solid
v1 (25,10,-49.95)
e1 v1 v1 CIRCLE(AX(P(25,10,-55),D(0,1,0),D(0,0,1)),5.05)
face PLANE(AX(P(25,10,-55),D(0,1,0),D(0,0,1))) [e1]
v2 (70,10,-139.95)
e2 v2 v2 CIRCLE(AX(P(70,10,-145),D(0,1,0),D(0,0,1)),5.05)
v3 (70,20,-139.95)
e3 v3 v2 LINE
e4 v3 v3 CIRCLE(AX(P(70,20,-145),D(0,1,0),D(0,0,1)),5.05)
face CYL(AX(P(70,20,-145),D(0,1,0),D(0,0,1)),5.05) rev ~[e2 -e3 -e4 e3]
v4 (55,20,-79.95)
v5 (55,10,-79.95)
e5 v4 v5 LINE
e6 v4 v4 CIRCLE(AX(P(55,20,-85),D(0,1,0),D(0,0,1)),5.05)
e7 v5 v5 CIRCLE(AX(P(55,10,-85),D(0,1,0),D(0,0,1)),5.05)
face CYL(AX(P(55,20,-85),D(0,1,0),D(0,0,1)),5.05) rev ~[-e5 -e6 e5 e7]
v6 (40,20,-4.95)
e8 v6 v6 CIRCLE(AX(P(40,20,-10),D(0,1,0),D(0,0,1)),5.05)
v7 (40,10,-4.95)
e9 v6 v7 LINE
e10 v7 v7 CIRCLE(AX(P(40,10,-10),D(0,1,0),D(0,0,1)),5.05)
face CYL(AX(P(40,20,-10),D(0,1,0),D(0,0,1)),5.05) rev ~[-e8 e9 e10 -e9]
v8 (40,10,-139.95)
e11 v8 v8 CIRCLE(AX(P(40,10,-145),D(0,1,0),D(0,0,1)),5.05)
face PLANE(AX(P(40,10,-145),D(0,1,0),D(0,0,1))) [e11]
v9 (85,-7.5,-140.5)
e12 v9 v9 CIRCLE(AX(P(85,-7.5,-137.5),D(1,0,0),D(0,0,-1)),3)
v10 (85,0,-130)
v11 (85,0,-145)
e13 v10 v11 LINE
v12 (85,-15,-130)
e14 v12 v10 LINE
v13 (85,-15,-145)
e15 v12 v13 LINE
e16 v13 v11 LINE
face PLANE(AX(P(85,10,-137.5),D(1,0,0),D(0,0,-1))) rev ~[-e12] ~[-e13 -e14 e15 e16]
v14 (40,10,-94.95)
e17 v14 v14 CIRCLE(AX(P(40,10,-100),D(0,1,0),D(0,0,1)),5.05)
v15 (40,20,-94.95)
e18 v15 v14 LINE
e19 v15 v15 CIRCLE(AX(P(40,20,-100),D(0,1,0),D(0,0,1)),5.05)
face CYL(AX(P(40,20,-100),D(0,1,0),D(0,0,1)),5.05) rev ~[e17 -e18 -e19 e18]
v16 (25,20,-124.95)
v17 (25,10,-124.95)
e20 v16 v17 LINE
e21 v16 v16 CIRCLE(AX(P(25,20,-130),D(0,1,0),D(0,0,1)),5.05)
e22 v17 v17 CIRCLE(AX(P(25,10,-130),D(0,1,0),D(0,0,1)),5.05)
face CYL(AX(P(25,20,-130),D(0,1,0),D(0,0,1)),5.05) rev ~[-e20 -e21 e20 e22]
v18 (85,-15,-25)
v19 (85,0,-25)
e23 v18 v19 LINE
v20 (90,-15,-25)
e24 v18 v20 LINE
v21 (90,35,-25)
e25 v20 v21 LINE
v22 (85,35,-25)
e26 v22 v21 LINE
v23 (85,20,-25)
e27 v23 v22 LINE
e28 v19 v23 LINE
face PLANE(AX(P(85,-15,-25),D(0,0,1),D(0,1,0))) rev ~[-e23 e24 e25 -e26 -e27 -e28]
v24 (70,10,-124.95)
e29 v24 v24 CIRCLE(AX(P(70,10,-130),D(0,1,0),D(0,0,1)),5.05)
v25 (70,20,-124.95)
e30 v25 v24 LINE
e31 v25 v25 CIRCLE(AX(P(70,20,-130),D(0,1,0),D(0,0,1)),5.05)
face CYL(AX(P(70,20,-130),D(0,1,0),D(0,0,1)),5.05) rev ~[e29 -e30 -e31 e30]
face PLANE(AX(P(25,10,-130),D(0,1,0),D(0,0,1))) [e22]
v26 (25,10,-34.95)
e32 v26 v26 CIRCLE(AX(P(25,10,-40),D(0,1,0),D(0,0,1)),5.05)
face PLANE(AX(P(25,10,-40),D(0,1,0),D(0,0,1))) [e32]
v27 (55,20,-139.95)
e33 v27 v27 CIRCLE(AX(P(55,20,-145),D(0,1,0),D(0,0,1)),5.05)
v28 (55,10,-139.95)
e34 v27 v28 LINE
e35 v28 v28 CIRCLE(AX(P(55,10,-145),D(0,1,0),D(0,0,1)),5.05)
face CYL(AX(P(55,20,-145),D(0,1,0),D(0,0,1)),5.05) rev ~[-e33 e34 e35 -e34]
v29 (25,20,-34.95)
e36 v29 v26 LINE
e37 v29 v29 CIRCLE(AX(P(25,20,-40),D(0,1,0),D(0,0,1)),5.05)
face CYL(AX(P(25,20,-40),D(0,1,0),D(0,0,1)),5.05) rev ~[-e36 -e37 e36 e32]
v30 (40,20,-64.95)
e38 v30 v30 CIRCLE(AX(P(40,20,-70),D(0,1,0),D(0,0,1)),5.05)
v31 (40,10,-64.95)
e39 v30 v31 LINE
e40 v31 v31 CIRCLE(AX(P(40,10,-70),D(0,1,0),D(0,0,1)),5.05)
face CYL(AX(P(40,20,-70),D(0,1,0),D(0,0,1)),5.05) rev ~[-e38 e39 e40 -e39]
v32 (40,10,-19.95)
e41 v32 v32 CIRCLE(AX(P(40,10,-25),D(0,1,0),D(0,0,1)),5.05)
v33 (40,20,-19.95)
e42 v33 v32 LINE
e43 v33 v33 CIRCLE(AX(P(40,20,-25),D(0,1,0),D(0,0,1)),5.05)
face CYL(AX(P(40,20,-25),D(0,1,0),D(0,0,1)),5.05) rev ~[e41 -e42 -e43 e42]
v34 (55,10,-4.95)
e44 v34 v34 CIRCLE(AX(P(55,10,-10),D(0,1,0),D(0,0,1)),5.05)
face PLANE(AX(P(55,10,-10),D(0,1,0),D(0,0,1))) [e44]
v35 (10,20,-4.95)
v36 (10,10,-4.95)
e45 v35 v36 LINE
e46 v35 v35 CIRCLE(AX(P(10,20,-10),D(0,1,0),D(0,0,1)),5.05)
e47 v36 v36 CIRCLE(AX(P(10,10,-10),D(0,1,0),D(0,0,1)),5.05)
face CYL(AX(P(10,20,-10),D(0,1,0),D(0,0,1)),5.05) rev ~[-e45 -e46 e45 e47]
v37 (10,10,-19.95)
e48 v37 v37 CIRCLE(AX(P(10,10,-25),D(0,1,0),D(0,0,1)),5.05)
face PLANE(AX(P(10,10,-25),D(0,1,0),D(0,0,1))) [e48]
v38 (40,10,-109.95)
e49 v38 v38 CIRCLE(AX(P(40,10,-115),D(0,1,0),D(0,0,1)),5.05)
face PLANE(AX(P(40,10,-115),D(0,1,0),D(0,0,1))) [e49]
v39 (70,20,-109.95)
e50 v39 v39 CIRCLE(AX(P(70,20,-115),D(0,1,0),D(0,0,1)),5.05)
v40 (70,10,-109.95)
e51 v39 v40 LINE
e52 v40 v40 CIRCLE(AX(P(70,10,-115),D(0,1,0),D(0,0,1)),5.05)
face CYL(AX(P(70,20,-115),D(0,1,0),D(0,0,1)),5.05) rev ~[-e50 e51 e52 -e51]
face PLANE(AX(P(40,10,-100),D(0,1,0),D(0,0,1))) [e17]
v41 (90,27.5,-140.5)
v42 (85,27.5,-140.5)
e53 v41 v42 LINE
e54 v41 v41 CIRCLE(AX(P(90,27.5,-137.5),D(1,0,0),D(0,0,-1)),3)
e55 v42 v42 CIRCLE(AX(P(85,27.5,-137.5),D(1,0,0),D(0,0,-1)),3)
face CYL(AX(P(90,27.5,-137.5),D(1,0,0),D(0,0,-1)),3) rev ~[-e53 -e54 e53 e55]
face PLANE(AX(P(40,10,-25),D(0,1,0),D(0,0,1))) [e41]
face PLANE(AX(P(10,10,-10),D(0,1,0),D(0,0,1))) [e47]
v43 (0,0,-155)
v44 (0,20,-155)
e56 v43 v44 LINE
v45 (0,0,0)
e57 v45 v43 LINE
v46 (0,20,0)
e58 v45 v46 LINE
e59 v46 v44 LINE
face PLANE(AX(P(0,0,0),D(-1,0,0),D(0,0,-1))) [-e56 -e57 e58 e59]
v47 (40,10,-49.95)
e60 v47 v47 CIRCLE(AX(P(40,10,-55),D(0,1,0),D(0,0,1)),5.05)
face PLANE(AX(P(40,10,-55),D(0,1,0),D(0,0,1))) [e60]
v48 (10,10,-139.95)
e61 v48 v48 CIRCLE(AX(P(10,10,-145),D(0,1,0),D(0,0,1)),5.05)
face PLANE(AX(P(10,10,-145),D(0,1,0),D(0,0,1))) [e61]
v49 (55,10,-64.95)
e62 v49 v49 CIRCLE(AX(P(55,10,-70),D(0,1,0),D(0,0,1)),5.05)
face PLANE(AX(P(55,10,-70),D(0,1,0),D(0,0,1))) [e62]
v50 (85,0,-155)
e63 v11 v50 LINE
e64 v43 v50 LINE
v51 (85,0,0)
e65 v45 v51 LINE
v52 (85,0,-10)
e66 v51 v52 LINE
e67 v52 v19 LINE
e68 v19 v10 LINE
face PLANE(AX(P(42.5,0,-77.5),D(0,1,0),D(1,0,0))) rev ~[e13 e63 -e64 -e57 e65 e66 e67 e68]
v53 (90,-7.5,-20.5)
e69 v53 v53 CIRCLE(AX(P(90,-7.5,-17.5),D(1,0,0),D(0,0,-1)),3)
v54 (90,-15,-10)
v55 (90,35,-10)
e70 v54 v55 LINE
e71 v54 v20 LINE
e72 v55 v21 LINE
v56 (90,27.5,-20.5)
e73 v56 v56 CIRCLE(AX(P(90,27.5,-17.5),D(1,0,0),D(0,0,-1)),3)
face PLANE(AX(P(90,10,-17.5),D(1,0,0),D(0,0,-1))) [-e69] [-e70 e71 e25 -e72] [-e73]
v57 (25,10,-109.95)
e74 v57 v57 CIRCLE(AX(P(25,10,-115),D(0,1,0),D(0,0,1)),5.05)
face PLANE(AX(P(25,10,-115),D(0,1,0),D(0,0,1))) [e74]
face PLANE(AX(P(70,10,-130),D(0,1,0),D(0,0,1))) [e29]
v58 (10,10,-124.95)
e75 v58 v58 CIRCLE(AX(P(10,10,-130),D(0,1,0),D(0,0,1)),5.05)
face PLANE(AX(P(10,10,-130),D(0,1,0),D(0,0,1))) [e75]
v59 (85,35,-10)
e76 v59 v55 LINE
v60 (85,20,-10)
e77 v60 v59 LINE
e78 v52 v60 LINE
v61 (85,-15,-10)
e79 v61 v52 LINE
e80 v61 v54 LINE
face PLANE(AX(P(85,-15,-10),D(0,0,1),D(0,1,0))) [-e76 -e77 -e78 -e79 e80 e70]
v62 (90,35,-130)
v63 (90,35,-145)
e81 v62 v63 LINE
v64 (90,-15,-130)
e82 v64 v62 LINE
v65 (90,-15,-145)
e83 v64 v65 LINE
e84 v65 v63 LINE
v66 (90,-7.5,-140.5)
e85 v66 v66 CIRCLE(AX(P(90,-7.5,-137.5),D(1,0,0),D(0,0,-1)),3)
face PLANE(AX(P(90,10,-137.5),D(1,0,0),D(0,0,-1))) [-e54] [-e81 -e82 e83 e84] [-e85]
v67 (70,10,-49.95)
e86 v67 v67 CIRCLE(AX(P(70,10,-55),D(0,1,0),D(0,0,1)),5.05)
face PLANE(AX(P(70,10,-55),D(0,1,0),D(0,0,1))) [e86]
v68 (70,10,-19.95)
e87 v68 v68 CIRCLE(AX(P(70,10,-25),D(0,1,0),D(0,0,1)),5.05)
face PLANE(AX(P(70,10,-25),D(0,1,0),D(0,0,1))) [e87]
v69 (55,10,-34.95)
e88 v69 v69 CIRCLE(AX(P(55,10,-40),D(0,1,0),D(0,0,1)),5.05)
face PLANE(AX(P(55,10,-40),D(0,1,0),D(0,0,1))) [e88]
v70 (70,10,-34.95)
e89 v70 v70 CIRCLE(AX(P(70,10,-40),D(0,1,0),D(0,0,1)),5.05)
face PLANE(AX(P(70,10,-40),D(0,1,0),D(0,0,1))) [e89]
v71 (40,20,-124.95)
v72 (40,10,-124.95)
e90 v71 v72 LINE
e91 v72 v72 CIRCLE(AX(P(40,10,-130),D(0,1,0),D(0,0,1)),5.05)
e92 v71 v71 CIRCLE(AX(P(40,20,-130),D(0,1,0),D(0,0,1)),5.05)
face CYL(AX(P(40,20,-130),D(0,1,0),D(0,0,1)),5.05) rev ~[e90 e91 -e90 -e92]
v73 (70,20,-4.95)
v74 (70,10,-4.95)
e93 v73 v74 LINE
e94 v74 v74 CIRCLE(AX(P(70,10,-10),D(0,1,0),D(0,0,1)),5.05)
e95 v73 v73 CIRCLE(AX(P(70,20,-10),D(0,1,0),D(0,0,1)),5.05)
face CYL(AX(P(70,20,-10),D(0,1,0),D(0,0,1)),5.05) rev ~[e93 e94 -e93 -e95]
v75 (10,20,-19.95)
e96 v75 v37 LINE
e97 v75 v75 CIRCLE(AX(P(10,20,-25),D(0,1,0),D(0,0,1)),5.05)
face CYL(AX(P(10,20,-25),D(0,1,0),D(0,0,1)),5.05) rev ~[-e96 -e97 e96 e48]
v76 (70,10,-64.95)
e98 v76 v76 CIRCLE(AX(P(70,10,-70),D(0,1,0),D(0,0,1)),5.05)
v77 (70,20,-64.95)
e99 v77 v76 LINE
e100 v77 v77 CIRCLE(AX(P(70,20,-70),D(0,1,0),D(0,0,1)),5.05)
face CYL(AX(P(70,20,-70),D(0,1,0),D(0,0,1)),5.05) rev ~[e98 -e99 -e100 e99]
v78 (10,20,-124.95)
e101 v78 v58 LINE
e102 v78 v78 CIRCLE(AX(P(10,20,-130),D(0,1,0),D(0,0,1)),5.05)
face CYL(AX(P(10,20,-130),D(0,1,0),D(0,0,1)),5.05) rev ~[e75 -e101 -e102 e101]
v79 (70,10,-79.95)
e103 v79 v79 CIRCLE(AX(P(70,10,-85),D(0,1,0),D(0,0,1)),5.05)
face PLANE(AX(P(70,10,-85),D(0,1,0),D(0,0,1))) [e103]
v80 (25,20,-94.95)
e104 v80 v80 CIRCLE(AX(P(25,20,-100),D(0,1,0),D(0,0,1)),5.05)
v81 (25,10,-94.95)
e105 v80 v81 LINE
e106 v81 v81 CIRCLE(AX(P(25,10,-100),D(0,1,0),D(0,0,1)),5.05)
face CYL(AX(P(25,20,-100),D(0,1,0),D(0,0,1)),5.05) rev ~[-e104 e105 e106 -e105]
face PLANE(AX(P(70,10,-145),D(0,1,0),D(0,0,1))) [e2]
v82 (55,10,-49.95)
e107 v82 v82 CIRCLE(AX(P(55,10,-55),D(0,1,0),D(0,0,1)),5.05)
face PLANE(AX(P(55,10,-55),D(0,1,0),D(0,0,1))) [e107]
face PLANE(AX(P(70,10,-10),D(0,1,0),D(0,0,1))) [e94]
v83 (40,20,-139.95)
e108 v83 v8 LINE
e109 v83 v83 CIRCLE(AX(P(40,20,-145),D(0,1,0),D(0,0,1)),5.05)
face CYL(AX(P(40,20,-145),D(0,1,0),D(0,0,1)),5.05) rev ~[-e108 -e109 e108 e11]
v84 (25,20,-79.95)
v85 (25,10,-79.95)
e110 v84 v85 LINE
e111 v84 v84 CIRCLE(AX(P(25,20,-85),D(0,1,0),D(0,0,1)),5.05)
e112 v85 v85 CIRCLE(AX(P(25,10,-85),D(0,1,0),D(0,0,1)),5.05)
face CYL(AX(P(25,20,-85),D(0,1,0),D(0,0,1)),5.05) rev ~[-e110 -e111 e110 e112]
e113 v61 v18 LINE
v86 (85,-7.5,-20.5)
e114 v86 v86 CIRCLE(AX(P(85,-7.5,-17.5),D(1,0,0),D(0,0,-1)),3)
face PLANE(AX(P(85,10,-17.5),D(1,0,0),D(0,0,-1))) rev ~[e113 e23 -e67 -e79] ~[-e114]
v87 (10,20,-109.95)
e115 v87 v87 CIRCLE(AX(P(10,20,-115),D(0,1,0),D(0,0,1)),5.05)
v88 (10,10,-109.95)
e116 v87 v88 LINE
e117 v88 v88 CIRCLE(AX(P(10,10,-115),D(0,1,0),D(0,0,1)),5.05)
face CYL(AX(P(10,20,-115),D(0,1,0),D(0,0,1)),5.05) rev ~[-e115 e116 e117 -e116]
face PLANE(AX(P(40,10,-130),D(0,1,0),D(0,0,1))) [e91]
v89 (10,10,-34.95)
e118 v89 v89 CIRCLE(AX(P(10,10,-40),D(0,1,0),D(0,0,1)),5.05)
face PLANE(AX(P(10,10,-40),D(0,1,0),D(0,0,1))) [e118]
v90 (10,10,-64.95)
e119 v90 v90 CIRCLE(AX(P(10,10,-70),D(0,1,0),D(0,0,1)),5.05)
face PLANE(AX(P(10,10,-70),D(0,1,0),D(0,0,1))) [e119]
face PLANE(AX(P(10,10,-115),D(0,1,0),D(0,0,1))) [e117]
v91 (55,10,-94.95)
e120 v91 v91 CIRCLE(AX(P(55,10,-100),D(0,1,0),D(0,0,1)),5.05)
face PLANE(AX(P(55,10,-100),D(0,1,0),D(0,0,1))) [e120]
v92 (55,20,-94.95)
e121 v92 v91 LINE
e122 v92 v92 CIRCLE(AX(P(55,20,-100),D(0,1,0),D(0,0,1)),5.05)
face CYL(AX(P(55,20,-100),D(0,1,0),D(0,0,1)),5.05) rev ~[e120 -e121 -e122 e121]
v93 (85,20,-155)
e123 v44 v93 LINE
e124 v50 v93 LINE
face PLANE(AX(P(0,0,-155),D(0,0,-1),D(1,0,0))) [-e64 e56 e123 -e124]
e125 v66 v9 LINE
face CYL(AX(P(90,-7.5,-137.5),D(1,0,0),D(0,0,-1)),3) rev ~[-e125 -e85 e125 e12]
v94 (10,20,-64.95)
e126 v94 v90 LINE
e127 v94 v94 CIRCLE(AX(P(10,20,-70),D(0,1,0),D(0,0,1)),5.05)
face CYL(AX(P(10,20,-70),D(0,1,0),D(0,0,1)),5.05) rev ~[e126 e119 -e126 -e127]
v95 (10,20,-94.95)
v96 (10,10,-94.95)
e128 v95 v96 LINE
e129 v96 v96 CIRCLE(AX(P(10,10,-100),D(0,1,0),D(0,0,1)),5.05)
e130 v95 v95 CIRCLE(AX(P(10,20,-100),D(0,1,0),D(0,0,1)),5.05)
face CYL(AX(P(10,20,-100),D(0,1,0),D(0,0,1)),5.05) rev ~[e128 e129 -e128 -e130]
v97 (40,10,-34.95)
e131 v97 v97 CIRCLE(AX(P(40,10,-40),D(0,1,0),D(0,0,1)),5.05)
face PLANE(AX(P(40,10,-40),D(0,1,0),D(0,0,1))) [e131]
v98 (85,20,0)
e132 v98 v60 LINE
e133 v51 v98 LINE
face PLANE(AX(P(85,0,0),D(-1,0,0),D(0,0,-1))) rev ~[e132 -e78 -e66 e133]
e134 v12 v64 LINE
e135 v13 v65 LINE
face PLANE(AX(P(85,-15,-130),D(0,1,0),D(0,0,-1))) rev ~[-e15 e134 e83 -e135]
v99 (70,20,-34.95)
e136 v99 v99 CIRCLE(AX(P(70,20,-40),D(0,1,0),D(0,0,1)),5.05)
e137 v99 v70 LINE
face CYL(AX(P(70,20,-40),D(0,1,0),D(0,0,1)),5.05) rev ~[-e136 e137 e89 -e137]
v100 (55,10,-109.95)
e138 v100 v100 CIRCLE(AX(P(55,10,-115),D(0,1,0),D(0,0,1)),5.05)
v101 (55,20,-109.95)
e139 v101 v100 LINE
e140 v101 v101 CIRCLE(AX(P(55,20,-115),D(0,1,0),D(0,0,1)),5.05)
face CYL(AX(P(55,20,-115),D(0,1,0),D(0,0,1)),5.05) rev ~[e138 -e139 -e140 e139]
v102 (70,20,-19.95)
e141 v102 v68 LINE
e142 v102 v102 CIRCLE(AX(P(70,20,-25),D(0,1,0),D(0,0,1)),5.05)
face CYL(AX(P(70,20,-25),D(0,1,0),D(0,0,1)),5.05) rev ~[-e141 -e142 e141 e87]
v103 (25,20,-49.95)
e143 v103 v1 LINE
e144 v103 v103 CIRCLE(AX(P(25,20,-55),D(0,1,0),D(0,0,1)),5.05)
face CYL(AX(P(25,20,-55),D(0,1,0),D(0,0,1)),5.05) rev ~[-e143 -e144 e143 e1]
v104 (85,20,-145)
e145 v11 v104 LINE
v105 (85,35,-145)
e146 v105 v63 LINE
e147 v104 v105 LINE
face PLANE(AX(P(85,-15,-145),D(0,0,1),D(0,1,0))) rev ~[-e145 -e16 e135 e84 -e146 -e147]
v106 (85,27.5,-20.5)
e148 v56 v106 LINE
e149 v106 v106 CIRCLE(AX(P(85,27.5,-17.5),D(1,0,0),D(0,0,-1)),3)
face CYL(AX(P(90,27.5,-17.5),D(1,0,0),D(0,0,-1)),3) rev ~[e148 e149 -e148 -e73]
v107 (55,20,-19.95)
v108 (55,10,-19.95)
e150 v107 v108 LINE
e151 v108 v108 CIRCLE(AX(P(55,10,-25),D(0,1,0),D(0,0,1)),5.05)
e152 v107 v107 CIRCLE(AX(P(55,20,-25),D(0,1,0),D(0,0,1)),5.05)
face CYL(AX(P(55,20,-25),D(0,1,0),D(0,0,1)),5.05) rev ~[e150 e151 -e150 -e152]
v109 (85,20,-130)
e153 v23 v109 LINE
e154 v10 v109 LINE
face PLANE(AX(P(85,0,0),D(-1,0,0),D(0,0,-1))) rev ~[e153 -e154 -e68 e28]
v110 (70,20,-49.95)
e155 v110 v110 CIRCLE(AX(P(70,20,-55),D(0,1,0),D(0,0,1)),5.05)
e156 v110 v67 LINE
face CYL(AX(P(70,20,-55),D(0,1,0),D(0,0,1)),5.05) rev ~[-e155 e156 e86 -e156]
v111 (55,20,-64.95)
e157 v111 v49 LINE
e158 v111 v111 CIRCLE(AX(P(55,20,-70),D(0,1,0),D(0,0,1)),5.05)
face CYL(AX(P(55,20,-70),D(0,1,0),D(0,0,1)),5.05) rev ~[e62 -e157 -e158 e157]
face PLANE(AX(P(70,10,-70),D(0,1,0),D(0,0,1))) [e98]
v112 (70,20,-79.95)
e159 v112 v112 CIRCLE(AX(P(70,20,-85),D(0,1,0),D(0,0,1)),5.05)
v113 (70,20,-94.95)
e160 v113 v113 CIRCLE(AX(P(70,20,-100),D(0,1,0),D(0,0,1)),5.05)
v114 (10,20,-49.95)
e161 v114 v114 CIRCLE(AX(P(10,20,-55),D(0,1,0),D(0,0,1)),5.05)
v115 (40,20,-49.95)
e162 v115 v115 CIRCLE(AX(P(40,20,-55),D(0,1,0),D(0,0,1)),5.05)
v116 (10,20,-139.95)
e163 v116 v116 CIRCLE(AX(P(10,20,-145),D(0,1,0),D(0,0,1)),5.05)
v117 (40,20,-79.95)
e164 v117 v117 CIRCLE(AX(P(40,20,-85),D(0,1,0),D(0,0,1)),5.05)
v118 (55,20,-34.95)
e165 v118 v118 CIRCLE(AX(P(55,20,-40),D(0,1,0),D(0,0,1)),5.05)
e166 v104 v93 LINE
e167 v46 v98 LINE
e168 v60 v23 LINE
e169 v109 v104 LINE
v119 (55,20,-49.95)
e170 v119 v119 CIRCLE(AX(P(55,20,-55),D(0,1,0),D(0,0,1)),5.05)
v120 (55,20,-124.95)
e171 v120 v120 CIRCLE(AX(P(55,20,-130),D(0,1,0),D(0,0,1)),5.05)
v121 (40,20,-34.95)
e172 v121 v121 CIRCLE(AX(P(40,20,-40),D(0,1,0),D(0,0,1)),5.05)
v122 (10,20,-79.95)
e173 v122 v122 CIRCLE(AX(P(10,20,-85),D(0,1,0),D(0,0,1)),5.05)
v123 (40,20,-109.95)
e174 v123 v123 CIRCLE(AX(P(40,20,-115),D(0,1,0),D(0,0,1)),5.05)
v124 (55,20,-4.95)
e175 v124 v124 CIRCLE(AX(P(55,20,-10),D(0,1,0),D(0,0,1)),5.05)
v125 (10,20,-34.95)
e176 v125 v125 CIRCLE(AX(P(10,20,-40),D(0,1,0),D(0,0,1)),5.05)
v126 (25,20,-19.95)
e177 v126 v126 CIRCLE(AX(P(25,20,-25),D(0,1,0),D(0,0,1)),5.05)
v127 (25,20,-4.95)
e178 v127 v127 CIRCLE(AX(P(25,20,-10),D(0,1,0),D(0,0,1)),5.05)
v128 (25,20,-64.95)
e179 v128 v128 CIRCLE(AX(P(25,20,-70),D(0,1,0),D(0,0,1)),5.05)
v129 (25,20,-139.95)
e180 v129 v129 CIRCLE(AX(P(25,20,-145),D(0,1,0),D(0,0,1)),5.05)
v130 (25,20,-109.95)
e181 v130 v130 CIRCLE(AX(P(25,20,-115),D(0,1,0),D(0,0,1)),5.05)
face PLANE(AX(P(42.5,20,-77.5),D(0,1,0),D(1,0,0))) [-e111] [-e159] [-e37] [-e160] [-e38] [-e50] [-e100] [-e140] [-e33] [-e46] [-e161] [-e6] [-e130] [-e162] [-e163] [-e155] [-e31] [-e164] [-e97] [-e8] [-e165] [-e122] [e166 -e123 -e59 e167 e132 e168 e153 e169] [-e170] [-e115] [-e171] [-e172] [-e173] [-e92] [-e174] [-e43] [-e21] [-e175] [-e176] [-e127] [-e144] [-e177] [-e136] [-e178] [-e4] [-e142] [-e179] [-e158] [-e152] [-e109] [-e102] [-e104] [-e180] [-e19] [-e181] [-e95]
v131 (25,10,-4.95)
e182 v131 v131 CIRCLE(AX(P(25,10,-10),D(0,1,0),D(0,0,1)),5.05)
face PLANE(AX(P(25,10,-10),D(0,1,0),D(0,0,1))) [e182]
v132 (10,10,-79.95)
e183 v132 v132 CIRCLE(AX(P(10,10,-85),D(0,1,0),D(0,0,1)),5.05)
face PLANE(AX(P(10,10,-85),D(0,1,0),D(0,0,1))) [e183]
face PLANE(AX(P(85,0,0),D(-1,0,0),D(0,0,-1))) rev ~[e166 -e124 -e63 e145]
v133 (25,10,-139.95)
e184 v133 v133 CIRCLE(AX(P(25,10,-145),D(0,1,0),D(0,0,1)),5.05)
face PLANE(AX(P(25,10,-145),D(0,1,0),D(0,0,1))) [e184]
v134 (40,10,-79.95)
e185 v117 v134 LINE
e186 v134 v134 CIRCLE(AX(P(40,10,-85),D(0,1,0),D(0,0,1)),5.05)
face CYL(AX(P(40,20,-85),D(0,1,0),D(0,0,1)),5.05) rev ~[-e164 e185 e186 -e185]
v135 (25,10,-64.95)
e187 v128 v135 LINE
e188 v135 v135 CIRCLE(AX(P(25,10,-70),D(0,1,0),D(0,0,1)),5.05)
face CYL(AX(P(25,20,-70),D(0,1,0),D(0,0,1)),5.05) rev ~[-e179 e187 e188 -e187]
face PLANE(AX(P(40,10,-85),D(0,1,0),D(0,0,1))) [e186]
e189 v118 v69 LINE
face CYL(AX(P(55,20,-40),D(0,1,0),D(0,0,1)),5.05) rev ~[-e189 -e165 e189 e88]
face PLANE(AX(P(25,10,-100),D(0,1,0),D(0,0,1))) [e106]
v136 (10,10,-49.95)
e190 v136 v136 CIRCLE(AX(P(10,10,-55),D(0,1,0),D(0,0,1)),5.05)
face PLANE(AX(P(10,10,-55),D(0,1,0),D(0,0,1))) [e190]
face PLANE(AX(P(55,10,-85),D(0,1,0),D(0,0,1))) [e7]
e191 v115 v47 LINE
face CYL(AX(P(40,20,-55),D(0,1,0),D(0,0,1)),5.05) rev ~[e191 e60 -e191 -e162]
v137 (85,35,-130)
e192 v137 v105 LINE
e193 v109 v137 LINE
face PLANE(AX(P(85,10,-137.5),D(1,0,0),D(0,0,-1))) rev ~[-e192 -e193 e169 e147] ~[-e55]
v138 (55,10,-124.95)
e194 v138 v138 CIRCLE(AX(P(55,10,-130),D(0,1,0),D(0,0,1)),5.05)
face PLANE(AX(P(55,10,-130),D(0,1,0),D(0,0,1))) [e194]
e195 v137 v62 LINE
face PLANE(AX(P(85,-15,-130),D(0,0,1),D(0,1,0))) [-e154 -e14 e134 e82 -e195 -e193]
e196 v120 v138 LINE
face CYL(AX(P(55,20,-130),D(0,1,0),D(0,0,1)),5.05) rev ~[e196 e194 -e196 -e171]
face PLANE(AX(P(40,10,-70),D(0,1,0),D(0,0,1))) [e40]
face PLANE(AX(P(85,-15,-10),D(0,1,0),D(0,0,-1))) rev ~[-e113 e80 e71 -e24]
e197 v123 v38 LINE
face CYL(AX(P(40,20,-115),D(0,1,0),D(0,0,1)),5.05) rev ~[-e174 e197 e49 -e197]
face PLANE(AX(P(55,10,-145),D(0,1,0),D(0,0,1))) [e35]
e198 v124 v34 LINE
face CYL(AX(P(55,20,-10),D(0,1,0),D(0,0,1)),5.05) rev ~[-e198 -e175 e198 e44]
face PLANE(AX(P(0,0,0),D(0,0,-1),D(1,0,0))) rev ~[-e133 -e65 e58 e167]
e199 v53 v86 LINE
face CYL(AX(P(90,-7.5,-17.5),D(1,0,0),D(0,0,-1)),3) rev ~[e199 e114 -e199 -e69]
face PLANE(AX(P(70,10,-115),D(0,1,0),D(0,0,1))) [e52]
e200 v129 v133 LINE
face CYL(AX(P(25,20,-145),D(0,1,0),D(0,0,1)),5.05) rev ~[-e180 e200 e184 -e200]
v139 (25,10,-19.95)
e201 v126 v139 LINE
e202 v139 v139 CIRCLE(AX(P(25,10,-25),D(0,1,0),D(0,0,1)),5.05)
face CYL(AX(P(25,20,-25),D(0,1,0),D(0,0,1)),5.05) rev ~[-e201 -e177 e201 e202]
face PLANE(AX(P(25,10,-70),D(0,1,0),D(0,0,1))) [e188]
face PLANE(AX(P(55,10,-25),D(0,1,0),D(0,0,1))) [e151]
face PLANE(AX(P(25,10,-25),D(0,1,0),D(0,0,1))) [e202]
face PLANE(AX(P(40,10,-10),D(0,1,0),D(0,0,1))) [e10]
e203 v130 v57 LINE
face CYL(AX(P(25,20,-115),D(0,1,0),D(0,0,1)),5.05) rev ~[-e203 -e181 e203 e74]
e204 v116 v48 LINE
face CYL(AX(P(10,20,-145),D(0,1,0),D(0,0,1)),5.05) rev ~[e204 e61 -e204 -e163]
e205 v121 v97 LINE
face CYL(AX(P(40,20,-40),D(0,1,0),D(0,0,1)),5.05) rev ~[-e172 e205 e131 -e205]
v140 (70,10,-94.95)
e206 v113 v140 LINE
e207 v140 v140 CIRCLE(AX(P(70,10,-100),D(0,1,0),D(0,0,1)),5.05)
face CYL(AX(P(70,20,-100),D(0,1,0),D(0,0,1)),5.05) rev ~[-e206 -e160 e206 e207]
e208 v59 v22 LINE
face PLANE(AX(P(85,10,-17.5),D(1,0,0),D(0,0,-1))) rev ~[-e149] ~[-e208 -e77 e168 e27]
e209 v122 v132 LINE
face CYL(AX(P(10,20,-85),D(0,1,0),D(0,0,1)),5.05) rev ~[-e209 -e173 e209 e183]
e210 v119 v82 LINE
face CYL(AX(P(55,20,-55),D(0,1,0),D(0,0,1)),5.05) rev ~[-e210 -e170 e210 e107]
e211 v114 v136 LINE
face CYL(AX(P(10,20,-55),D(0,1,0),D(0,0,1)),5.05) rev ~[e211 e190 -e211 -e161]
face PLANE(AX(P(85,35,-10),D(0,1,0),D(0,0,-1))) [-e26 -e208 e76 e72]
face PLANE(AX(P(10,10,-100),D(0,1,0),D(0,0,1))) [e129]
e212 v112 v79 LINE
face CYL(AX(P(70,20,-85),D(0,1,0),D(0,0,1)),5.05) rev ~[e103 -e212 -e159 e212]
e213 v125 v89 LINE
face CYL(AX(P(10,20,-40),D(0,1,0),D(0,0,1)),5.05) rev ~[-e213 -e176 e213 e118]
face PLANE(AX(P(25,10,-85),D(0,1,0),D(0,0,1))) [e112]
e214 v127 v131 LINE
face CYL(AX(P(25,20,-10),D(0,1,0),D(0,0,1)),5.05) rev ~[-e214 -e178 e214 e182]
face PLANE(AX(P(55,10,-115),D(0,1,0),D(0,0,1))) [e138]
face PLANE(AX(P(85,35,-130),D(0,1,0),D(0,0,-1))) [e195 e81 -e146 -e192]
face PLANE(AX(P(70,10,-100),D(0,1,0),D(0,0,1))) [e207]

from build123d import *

# Parameters (mm, degrees)
SKETCH1_W           = 85
SKETCH1_H           = 155
BOSS_EXTRUDE1_DEPTH = 20
SKETCH3_R           = 5.05
CUT_EXTRUDE1_DEPTH  = 10
SKETCH5_W           = 15
SKETCH5_H           = 50
BOSS_EXTRUDE2_DEPTH = 5
SKETCH6_R           = 3
CUT_EXTRUDE2_DEPTH  = 5


with BuildPart() as part:
    # Sketch1 → Boss-Extrude1 (new body)
    with BuildSketch(Plane(origin=(0, 0, 0), x_dir=(1, 0, 0), z_dir=(0, 1, 0))):
        with Locations((42.5, 77.5)):
            Rectangle(SKETCH1_W, SKETCH1_H)
    extrude(amount=BOSS_EXTRUDE1_DEPTH)

    # Sketch3 → Cut-Extrude1 (cut)
    with BuildSketch(Plane(origin=(0, 20, 0), x_dir=(1, 0, 0), z_dir=(0, 1, 0))):
        with Locations(Location((10, 145, 0), (0, 0, 270))):
            Circle(SKETCH3_R)
        with Locations(Location((25, 145, 0), (0, 0, 270))):
            Circle(SKETCH3_R)
        with Locations(Location((40, 145, 0), (0, 0, 270))):
            Circle(SKETCH3_R)
        with Locations(Location((55, 145, 0), (0, 0, 270))):
            Circle(SKETCH3_R)
        with Locations(Location((70, 145, 0), (0, 0, 270))):
            Circle(SKETCH3_R)
        with Locations(Location((70, 130, 0), (0, 0, 270))):
            Circle(SKETCH3_R)
        with Locations(Location((55, 130, 0), (0, 0, 270))):
            Circle(SKETCH3_R)
        with Locations(Location((40, 130, 0), (0, 0, 270))):
            Circle(SKETCH3_R)
        with Locations(Location((25, 130, 0), (0, 0, 270))):
            Circle(SKETCH3_R)
        with Locations(Location((10, 130, 0), (0, 0, 270))):
            Circle(SKETCH3_R)
        with Locations(Location((70, 115, 0), (0, 0, 270))):
            Circle(SKETCH3_R)
        with Locations(Location((55, 115, 0), (0, 0, 270))):
            Circle(SKETCH3_R)
        with Locations(Location((40, 115, 0), (0, 0, 270))):
            Circle(SKETCH3_R)
        with Locations(Location((25, 115, 0), (0, 0, 270))):
            Circle(SKETCH3_R)
        with Locations(Location((10, 115, 0), (0, 0, 270))):
            Circle(SKETCH3_R)
        with Locations(Location((70, 100, 0), (0, 0, 270))):
            Circle(SKETCH3_R)
        with Locations(Location((55, 100, 0), (0, 0, 270))):
            Circle(SKETCH3_R)
        with Locations(Location((40, 100, 0), (0, 0, 270))):
            Circle(SKETCH3_R)
        with Locations(Location((25, 100, 0), (0, 0, 270))):
            Circle(SKETCH3_R)
        with Locations(Location((10, 100, 0), (0, 0, 270))):
            Circle(SKETCH3_R)
        with Locations(Location((70, 85, 0), (0, 0, 270))):
            Circle(SKETCH3_R)
        with Locations(Location((55, 85, 0), (0, 0, 270))):
            Circle(SKETCH3_R)
        with Locations(Location((40, 85, 0), (0, 0, 270))):
            Circle(SKETCH3_R)
        with Locations(Location((25, 85, 0), (0, 0, 270))):
            Circle(SKETCH3_R)
        with Locations(Location((10, 85, 0), (0, 0, 270))):
            Circle(SKETCH3_R)
        with Locations(Location((70, 70, 0), (0, 0, 270))):
            Circle(SKETCH3_R)
        with Locations(Location((55, 70, 0), (0, 0, 270))):
            Circle(SKETCH3_R)
        with Locations(Location((40, 70, 0), (0, 0, 270))):
            Circle(SKETCH3_R)
        with Locations(Location((25, 70, 0), (0, 0, 270))):
            Circle(SKETCH3_R)
        with Locations(Location((10, 70, 0), (0, 0, 270))):
            Circle(SKETCH3_R)
        with Locations(Location((70, 55, 0), (0, 0, 270))):
            Circle(SKETCH3_R)
        with Locations(Location((55, 55, 0), (0, 0, 270))):
            Circle(SKETCH3_R)
        with Locations(Location((40, 55, 0), (0, 0, 270))):
            Circle(SKETCH3_R)
        with Locations(Location((25, 55, 0), (0, 0, 270))):
            Circle(SKETCH3_R)
        with Locations(Location((10, 55, 0), (0, 0, 270))):
            Circle(SKETCH3_R)
        with Locations(Location((70, 40, 0), (0, 0, 270))):
            Circle(SKETCH3_R)
        with Locations(Location((55, 40, 0), (0, 0, 270))):
            Circle(SKETCH3_R)
        with Locations(Location((40, 40, 0), (0, 0, 270))):
            Circle(SKETCH3_R)
        with Locations(Location((25, 40, 0), (0, 0, 270))):
            Circle(SKETCH3_R)
        with Locations(Location((10, 40, 0), (0, 0, 270))):
            Circle(SKETCH3_R)
        with Locations(Location((70, 25, 0), (0, 0, 270))):
            Circle(SKETCH3_R)
        with Locations(Location((55, 25, 0), (0, 0, 270))):
            Circle(SKETCH3_R)
        with Locations(Location((40, 25, 0), (0, 0, 270))):
            Circle(SKETCH3_R)
        with Locations(Location((25, 25, 0), (0, 0, 270))):
            Circle(SKETCH3_R)
        with Locations(Location((10, 25, 0), (0, 0, 270))):
            Circle(SKETCH3_R)
        with Locations(Location((70, 10, 0), (0, 0, 270))):
            Circle(SKETCH3_R)
        with Locations(Location((55, 10, 0), (0, 0, 270))):
            Circle(SKETCH3_R)
        with Locations(Location((40, 10, 0), (0, 0, 270))):
            Circle(SKETCH3_R)
        with Locations(Location((25, 10, 0), (0, 0, 270))):
            Circle(SKETCH3_R)
        with Locations(Location((10, 10, 0), (0, 0, 270))):
            Circle(SKETCH3_R)
    extrude(amount=-CUT_EXTRUDE1_DEPTH, mode=Mode.SUBTRACT)

    # Sketch5 → Boss-Extrude2 (add)
    with BuildSketch(Plane(origin=(85, 0, 0), x_dir=(0, 0, -1), z_dir=(1, 0, 0))):
        with Locations((17.5, 10)):
            Rectangle(SKETCH5_W, SKETCH5_H)
        with Locations((137.5, 10)):
            Rectangle(SKETCH5_W, SKETCH5_H)
    extrude(amount=BOSS_EXTRUDE2_DEPTH)

    # Sketch6 → Cut-Extrude2 (cut)
    with BuildSketch(Plane(origin=(90, 0, 0), x_dir=(0, 0, -1), z_dir=(1, 0, 0))):
        with Locations((17.5, 27.5)):
            Circle(SKETCH6_R)
        with Locations((17.5, -7.5)):
            Circle(SKETCH6_R)
        with Locations((137.5, -7.5)):
            Circle(SKETCH6_R)
        with Locations((137.5, 27.5)):
            Circle(SKETCH6_R)
    extrude(amount=-CUT_EXTRUDE2_DEPTH, mode=Mode.SUBTRACT)


solid = part.part
